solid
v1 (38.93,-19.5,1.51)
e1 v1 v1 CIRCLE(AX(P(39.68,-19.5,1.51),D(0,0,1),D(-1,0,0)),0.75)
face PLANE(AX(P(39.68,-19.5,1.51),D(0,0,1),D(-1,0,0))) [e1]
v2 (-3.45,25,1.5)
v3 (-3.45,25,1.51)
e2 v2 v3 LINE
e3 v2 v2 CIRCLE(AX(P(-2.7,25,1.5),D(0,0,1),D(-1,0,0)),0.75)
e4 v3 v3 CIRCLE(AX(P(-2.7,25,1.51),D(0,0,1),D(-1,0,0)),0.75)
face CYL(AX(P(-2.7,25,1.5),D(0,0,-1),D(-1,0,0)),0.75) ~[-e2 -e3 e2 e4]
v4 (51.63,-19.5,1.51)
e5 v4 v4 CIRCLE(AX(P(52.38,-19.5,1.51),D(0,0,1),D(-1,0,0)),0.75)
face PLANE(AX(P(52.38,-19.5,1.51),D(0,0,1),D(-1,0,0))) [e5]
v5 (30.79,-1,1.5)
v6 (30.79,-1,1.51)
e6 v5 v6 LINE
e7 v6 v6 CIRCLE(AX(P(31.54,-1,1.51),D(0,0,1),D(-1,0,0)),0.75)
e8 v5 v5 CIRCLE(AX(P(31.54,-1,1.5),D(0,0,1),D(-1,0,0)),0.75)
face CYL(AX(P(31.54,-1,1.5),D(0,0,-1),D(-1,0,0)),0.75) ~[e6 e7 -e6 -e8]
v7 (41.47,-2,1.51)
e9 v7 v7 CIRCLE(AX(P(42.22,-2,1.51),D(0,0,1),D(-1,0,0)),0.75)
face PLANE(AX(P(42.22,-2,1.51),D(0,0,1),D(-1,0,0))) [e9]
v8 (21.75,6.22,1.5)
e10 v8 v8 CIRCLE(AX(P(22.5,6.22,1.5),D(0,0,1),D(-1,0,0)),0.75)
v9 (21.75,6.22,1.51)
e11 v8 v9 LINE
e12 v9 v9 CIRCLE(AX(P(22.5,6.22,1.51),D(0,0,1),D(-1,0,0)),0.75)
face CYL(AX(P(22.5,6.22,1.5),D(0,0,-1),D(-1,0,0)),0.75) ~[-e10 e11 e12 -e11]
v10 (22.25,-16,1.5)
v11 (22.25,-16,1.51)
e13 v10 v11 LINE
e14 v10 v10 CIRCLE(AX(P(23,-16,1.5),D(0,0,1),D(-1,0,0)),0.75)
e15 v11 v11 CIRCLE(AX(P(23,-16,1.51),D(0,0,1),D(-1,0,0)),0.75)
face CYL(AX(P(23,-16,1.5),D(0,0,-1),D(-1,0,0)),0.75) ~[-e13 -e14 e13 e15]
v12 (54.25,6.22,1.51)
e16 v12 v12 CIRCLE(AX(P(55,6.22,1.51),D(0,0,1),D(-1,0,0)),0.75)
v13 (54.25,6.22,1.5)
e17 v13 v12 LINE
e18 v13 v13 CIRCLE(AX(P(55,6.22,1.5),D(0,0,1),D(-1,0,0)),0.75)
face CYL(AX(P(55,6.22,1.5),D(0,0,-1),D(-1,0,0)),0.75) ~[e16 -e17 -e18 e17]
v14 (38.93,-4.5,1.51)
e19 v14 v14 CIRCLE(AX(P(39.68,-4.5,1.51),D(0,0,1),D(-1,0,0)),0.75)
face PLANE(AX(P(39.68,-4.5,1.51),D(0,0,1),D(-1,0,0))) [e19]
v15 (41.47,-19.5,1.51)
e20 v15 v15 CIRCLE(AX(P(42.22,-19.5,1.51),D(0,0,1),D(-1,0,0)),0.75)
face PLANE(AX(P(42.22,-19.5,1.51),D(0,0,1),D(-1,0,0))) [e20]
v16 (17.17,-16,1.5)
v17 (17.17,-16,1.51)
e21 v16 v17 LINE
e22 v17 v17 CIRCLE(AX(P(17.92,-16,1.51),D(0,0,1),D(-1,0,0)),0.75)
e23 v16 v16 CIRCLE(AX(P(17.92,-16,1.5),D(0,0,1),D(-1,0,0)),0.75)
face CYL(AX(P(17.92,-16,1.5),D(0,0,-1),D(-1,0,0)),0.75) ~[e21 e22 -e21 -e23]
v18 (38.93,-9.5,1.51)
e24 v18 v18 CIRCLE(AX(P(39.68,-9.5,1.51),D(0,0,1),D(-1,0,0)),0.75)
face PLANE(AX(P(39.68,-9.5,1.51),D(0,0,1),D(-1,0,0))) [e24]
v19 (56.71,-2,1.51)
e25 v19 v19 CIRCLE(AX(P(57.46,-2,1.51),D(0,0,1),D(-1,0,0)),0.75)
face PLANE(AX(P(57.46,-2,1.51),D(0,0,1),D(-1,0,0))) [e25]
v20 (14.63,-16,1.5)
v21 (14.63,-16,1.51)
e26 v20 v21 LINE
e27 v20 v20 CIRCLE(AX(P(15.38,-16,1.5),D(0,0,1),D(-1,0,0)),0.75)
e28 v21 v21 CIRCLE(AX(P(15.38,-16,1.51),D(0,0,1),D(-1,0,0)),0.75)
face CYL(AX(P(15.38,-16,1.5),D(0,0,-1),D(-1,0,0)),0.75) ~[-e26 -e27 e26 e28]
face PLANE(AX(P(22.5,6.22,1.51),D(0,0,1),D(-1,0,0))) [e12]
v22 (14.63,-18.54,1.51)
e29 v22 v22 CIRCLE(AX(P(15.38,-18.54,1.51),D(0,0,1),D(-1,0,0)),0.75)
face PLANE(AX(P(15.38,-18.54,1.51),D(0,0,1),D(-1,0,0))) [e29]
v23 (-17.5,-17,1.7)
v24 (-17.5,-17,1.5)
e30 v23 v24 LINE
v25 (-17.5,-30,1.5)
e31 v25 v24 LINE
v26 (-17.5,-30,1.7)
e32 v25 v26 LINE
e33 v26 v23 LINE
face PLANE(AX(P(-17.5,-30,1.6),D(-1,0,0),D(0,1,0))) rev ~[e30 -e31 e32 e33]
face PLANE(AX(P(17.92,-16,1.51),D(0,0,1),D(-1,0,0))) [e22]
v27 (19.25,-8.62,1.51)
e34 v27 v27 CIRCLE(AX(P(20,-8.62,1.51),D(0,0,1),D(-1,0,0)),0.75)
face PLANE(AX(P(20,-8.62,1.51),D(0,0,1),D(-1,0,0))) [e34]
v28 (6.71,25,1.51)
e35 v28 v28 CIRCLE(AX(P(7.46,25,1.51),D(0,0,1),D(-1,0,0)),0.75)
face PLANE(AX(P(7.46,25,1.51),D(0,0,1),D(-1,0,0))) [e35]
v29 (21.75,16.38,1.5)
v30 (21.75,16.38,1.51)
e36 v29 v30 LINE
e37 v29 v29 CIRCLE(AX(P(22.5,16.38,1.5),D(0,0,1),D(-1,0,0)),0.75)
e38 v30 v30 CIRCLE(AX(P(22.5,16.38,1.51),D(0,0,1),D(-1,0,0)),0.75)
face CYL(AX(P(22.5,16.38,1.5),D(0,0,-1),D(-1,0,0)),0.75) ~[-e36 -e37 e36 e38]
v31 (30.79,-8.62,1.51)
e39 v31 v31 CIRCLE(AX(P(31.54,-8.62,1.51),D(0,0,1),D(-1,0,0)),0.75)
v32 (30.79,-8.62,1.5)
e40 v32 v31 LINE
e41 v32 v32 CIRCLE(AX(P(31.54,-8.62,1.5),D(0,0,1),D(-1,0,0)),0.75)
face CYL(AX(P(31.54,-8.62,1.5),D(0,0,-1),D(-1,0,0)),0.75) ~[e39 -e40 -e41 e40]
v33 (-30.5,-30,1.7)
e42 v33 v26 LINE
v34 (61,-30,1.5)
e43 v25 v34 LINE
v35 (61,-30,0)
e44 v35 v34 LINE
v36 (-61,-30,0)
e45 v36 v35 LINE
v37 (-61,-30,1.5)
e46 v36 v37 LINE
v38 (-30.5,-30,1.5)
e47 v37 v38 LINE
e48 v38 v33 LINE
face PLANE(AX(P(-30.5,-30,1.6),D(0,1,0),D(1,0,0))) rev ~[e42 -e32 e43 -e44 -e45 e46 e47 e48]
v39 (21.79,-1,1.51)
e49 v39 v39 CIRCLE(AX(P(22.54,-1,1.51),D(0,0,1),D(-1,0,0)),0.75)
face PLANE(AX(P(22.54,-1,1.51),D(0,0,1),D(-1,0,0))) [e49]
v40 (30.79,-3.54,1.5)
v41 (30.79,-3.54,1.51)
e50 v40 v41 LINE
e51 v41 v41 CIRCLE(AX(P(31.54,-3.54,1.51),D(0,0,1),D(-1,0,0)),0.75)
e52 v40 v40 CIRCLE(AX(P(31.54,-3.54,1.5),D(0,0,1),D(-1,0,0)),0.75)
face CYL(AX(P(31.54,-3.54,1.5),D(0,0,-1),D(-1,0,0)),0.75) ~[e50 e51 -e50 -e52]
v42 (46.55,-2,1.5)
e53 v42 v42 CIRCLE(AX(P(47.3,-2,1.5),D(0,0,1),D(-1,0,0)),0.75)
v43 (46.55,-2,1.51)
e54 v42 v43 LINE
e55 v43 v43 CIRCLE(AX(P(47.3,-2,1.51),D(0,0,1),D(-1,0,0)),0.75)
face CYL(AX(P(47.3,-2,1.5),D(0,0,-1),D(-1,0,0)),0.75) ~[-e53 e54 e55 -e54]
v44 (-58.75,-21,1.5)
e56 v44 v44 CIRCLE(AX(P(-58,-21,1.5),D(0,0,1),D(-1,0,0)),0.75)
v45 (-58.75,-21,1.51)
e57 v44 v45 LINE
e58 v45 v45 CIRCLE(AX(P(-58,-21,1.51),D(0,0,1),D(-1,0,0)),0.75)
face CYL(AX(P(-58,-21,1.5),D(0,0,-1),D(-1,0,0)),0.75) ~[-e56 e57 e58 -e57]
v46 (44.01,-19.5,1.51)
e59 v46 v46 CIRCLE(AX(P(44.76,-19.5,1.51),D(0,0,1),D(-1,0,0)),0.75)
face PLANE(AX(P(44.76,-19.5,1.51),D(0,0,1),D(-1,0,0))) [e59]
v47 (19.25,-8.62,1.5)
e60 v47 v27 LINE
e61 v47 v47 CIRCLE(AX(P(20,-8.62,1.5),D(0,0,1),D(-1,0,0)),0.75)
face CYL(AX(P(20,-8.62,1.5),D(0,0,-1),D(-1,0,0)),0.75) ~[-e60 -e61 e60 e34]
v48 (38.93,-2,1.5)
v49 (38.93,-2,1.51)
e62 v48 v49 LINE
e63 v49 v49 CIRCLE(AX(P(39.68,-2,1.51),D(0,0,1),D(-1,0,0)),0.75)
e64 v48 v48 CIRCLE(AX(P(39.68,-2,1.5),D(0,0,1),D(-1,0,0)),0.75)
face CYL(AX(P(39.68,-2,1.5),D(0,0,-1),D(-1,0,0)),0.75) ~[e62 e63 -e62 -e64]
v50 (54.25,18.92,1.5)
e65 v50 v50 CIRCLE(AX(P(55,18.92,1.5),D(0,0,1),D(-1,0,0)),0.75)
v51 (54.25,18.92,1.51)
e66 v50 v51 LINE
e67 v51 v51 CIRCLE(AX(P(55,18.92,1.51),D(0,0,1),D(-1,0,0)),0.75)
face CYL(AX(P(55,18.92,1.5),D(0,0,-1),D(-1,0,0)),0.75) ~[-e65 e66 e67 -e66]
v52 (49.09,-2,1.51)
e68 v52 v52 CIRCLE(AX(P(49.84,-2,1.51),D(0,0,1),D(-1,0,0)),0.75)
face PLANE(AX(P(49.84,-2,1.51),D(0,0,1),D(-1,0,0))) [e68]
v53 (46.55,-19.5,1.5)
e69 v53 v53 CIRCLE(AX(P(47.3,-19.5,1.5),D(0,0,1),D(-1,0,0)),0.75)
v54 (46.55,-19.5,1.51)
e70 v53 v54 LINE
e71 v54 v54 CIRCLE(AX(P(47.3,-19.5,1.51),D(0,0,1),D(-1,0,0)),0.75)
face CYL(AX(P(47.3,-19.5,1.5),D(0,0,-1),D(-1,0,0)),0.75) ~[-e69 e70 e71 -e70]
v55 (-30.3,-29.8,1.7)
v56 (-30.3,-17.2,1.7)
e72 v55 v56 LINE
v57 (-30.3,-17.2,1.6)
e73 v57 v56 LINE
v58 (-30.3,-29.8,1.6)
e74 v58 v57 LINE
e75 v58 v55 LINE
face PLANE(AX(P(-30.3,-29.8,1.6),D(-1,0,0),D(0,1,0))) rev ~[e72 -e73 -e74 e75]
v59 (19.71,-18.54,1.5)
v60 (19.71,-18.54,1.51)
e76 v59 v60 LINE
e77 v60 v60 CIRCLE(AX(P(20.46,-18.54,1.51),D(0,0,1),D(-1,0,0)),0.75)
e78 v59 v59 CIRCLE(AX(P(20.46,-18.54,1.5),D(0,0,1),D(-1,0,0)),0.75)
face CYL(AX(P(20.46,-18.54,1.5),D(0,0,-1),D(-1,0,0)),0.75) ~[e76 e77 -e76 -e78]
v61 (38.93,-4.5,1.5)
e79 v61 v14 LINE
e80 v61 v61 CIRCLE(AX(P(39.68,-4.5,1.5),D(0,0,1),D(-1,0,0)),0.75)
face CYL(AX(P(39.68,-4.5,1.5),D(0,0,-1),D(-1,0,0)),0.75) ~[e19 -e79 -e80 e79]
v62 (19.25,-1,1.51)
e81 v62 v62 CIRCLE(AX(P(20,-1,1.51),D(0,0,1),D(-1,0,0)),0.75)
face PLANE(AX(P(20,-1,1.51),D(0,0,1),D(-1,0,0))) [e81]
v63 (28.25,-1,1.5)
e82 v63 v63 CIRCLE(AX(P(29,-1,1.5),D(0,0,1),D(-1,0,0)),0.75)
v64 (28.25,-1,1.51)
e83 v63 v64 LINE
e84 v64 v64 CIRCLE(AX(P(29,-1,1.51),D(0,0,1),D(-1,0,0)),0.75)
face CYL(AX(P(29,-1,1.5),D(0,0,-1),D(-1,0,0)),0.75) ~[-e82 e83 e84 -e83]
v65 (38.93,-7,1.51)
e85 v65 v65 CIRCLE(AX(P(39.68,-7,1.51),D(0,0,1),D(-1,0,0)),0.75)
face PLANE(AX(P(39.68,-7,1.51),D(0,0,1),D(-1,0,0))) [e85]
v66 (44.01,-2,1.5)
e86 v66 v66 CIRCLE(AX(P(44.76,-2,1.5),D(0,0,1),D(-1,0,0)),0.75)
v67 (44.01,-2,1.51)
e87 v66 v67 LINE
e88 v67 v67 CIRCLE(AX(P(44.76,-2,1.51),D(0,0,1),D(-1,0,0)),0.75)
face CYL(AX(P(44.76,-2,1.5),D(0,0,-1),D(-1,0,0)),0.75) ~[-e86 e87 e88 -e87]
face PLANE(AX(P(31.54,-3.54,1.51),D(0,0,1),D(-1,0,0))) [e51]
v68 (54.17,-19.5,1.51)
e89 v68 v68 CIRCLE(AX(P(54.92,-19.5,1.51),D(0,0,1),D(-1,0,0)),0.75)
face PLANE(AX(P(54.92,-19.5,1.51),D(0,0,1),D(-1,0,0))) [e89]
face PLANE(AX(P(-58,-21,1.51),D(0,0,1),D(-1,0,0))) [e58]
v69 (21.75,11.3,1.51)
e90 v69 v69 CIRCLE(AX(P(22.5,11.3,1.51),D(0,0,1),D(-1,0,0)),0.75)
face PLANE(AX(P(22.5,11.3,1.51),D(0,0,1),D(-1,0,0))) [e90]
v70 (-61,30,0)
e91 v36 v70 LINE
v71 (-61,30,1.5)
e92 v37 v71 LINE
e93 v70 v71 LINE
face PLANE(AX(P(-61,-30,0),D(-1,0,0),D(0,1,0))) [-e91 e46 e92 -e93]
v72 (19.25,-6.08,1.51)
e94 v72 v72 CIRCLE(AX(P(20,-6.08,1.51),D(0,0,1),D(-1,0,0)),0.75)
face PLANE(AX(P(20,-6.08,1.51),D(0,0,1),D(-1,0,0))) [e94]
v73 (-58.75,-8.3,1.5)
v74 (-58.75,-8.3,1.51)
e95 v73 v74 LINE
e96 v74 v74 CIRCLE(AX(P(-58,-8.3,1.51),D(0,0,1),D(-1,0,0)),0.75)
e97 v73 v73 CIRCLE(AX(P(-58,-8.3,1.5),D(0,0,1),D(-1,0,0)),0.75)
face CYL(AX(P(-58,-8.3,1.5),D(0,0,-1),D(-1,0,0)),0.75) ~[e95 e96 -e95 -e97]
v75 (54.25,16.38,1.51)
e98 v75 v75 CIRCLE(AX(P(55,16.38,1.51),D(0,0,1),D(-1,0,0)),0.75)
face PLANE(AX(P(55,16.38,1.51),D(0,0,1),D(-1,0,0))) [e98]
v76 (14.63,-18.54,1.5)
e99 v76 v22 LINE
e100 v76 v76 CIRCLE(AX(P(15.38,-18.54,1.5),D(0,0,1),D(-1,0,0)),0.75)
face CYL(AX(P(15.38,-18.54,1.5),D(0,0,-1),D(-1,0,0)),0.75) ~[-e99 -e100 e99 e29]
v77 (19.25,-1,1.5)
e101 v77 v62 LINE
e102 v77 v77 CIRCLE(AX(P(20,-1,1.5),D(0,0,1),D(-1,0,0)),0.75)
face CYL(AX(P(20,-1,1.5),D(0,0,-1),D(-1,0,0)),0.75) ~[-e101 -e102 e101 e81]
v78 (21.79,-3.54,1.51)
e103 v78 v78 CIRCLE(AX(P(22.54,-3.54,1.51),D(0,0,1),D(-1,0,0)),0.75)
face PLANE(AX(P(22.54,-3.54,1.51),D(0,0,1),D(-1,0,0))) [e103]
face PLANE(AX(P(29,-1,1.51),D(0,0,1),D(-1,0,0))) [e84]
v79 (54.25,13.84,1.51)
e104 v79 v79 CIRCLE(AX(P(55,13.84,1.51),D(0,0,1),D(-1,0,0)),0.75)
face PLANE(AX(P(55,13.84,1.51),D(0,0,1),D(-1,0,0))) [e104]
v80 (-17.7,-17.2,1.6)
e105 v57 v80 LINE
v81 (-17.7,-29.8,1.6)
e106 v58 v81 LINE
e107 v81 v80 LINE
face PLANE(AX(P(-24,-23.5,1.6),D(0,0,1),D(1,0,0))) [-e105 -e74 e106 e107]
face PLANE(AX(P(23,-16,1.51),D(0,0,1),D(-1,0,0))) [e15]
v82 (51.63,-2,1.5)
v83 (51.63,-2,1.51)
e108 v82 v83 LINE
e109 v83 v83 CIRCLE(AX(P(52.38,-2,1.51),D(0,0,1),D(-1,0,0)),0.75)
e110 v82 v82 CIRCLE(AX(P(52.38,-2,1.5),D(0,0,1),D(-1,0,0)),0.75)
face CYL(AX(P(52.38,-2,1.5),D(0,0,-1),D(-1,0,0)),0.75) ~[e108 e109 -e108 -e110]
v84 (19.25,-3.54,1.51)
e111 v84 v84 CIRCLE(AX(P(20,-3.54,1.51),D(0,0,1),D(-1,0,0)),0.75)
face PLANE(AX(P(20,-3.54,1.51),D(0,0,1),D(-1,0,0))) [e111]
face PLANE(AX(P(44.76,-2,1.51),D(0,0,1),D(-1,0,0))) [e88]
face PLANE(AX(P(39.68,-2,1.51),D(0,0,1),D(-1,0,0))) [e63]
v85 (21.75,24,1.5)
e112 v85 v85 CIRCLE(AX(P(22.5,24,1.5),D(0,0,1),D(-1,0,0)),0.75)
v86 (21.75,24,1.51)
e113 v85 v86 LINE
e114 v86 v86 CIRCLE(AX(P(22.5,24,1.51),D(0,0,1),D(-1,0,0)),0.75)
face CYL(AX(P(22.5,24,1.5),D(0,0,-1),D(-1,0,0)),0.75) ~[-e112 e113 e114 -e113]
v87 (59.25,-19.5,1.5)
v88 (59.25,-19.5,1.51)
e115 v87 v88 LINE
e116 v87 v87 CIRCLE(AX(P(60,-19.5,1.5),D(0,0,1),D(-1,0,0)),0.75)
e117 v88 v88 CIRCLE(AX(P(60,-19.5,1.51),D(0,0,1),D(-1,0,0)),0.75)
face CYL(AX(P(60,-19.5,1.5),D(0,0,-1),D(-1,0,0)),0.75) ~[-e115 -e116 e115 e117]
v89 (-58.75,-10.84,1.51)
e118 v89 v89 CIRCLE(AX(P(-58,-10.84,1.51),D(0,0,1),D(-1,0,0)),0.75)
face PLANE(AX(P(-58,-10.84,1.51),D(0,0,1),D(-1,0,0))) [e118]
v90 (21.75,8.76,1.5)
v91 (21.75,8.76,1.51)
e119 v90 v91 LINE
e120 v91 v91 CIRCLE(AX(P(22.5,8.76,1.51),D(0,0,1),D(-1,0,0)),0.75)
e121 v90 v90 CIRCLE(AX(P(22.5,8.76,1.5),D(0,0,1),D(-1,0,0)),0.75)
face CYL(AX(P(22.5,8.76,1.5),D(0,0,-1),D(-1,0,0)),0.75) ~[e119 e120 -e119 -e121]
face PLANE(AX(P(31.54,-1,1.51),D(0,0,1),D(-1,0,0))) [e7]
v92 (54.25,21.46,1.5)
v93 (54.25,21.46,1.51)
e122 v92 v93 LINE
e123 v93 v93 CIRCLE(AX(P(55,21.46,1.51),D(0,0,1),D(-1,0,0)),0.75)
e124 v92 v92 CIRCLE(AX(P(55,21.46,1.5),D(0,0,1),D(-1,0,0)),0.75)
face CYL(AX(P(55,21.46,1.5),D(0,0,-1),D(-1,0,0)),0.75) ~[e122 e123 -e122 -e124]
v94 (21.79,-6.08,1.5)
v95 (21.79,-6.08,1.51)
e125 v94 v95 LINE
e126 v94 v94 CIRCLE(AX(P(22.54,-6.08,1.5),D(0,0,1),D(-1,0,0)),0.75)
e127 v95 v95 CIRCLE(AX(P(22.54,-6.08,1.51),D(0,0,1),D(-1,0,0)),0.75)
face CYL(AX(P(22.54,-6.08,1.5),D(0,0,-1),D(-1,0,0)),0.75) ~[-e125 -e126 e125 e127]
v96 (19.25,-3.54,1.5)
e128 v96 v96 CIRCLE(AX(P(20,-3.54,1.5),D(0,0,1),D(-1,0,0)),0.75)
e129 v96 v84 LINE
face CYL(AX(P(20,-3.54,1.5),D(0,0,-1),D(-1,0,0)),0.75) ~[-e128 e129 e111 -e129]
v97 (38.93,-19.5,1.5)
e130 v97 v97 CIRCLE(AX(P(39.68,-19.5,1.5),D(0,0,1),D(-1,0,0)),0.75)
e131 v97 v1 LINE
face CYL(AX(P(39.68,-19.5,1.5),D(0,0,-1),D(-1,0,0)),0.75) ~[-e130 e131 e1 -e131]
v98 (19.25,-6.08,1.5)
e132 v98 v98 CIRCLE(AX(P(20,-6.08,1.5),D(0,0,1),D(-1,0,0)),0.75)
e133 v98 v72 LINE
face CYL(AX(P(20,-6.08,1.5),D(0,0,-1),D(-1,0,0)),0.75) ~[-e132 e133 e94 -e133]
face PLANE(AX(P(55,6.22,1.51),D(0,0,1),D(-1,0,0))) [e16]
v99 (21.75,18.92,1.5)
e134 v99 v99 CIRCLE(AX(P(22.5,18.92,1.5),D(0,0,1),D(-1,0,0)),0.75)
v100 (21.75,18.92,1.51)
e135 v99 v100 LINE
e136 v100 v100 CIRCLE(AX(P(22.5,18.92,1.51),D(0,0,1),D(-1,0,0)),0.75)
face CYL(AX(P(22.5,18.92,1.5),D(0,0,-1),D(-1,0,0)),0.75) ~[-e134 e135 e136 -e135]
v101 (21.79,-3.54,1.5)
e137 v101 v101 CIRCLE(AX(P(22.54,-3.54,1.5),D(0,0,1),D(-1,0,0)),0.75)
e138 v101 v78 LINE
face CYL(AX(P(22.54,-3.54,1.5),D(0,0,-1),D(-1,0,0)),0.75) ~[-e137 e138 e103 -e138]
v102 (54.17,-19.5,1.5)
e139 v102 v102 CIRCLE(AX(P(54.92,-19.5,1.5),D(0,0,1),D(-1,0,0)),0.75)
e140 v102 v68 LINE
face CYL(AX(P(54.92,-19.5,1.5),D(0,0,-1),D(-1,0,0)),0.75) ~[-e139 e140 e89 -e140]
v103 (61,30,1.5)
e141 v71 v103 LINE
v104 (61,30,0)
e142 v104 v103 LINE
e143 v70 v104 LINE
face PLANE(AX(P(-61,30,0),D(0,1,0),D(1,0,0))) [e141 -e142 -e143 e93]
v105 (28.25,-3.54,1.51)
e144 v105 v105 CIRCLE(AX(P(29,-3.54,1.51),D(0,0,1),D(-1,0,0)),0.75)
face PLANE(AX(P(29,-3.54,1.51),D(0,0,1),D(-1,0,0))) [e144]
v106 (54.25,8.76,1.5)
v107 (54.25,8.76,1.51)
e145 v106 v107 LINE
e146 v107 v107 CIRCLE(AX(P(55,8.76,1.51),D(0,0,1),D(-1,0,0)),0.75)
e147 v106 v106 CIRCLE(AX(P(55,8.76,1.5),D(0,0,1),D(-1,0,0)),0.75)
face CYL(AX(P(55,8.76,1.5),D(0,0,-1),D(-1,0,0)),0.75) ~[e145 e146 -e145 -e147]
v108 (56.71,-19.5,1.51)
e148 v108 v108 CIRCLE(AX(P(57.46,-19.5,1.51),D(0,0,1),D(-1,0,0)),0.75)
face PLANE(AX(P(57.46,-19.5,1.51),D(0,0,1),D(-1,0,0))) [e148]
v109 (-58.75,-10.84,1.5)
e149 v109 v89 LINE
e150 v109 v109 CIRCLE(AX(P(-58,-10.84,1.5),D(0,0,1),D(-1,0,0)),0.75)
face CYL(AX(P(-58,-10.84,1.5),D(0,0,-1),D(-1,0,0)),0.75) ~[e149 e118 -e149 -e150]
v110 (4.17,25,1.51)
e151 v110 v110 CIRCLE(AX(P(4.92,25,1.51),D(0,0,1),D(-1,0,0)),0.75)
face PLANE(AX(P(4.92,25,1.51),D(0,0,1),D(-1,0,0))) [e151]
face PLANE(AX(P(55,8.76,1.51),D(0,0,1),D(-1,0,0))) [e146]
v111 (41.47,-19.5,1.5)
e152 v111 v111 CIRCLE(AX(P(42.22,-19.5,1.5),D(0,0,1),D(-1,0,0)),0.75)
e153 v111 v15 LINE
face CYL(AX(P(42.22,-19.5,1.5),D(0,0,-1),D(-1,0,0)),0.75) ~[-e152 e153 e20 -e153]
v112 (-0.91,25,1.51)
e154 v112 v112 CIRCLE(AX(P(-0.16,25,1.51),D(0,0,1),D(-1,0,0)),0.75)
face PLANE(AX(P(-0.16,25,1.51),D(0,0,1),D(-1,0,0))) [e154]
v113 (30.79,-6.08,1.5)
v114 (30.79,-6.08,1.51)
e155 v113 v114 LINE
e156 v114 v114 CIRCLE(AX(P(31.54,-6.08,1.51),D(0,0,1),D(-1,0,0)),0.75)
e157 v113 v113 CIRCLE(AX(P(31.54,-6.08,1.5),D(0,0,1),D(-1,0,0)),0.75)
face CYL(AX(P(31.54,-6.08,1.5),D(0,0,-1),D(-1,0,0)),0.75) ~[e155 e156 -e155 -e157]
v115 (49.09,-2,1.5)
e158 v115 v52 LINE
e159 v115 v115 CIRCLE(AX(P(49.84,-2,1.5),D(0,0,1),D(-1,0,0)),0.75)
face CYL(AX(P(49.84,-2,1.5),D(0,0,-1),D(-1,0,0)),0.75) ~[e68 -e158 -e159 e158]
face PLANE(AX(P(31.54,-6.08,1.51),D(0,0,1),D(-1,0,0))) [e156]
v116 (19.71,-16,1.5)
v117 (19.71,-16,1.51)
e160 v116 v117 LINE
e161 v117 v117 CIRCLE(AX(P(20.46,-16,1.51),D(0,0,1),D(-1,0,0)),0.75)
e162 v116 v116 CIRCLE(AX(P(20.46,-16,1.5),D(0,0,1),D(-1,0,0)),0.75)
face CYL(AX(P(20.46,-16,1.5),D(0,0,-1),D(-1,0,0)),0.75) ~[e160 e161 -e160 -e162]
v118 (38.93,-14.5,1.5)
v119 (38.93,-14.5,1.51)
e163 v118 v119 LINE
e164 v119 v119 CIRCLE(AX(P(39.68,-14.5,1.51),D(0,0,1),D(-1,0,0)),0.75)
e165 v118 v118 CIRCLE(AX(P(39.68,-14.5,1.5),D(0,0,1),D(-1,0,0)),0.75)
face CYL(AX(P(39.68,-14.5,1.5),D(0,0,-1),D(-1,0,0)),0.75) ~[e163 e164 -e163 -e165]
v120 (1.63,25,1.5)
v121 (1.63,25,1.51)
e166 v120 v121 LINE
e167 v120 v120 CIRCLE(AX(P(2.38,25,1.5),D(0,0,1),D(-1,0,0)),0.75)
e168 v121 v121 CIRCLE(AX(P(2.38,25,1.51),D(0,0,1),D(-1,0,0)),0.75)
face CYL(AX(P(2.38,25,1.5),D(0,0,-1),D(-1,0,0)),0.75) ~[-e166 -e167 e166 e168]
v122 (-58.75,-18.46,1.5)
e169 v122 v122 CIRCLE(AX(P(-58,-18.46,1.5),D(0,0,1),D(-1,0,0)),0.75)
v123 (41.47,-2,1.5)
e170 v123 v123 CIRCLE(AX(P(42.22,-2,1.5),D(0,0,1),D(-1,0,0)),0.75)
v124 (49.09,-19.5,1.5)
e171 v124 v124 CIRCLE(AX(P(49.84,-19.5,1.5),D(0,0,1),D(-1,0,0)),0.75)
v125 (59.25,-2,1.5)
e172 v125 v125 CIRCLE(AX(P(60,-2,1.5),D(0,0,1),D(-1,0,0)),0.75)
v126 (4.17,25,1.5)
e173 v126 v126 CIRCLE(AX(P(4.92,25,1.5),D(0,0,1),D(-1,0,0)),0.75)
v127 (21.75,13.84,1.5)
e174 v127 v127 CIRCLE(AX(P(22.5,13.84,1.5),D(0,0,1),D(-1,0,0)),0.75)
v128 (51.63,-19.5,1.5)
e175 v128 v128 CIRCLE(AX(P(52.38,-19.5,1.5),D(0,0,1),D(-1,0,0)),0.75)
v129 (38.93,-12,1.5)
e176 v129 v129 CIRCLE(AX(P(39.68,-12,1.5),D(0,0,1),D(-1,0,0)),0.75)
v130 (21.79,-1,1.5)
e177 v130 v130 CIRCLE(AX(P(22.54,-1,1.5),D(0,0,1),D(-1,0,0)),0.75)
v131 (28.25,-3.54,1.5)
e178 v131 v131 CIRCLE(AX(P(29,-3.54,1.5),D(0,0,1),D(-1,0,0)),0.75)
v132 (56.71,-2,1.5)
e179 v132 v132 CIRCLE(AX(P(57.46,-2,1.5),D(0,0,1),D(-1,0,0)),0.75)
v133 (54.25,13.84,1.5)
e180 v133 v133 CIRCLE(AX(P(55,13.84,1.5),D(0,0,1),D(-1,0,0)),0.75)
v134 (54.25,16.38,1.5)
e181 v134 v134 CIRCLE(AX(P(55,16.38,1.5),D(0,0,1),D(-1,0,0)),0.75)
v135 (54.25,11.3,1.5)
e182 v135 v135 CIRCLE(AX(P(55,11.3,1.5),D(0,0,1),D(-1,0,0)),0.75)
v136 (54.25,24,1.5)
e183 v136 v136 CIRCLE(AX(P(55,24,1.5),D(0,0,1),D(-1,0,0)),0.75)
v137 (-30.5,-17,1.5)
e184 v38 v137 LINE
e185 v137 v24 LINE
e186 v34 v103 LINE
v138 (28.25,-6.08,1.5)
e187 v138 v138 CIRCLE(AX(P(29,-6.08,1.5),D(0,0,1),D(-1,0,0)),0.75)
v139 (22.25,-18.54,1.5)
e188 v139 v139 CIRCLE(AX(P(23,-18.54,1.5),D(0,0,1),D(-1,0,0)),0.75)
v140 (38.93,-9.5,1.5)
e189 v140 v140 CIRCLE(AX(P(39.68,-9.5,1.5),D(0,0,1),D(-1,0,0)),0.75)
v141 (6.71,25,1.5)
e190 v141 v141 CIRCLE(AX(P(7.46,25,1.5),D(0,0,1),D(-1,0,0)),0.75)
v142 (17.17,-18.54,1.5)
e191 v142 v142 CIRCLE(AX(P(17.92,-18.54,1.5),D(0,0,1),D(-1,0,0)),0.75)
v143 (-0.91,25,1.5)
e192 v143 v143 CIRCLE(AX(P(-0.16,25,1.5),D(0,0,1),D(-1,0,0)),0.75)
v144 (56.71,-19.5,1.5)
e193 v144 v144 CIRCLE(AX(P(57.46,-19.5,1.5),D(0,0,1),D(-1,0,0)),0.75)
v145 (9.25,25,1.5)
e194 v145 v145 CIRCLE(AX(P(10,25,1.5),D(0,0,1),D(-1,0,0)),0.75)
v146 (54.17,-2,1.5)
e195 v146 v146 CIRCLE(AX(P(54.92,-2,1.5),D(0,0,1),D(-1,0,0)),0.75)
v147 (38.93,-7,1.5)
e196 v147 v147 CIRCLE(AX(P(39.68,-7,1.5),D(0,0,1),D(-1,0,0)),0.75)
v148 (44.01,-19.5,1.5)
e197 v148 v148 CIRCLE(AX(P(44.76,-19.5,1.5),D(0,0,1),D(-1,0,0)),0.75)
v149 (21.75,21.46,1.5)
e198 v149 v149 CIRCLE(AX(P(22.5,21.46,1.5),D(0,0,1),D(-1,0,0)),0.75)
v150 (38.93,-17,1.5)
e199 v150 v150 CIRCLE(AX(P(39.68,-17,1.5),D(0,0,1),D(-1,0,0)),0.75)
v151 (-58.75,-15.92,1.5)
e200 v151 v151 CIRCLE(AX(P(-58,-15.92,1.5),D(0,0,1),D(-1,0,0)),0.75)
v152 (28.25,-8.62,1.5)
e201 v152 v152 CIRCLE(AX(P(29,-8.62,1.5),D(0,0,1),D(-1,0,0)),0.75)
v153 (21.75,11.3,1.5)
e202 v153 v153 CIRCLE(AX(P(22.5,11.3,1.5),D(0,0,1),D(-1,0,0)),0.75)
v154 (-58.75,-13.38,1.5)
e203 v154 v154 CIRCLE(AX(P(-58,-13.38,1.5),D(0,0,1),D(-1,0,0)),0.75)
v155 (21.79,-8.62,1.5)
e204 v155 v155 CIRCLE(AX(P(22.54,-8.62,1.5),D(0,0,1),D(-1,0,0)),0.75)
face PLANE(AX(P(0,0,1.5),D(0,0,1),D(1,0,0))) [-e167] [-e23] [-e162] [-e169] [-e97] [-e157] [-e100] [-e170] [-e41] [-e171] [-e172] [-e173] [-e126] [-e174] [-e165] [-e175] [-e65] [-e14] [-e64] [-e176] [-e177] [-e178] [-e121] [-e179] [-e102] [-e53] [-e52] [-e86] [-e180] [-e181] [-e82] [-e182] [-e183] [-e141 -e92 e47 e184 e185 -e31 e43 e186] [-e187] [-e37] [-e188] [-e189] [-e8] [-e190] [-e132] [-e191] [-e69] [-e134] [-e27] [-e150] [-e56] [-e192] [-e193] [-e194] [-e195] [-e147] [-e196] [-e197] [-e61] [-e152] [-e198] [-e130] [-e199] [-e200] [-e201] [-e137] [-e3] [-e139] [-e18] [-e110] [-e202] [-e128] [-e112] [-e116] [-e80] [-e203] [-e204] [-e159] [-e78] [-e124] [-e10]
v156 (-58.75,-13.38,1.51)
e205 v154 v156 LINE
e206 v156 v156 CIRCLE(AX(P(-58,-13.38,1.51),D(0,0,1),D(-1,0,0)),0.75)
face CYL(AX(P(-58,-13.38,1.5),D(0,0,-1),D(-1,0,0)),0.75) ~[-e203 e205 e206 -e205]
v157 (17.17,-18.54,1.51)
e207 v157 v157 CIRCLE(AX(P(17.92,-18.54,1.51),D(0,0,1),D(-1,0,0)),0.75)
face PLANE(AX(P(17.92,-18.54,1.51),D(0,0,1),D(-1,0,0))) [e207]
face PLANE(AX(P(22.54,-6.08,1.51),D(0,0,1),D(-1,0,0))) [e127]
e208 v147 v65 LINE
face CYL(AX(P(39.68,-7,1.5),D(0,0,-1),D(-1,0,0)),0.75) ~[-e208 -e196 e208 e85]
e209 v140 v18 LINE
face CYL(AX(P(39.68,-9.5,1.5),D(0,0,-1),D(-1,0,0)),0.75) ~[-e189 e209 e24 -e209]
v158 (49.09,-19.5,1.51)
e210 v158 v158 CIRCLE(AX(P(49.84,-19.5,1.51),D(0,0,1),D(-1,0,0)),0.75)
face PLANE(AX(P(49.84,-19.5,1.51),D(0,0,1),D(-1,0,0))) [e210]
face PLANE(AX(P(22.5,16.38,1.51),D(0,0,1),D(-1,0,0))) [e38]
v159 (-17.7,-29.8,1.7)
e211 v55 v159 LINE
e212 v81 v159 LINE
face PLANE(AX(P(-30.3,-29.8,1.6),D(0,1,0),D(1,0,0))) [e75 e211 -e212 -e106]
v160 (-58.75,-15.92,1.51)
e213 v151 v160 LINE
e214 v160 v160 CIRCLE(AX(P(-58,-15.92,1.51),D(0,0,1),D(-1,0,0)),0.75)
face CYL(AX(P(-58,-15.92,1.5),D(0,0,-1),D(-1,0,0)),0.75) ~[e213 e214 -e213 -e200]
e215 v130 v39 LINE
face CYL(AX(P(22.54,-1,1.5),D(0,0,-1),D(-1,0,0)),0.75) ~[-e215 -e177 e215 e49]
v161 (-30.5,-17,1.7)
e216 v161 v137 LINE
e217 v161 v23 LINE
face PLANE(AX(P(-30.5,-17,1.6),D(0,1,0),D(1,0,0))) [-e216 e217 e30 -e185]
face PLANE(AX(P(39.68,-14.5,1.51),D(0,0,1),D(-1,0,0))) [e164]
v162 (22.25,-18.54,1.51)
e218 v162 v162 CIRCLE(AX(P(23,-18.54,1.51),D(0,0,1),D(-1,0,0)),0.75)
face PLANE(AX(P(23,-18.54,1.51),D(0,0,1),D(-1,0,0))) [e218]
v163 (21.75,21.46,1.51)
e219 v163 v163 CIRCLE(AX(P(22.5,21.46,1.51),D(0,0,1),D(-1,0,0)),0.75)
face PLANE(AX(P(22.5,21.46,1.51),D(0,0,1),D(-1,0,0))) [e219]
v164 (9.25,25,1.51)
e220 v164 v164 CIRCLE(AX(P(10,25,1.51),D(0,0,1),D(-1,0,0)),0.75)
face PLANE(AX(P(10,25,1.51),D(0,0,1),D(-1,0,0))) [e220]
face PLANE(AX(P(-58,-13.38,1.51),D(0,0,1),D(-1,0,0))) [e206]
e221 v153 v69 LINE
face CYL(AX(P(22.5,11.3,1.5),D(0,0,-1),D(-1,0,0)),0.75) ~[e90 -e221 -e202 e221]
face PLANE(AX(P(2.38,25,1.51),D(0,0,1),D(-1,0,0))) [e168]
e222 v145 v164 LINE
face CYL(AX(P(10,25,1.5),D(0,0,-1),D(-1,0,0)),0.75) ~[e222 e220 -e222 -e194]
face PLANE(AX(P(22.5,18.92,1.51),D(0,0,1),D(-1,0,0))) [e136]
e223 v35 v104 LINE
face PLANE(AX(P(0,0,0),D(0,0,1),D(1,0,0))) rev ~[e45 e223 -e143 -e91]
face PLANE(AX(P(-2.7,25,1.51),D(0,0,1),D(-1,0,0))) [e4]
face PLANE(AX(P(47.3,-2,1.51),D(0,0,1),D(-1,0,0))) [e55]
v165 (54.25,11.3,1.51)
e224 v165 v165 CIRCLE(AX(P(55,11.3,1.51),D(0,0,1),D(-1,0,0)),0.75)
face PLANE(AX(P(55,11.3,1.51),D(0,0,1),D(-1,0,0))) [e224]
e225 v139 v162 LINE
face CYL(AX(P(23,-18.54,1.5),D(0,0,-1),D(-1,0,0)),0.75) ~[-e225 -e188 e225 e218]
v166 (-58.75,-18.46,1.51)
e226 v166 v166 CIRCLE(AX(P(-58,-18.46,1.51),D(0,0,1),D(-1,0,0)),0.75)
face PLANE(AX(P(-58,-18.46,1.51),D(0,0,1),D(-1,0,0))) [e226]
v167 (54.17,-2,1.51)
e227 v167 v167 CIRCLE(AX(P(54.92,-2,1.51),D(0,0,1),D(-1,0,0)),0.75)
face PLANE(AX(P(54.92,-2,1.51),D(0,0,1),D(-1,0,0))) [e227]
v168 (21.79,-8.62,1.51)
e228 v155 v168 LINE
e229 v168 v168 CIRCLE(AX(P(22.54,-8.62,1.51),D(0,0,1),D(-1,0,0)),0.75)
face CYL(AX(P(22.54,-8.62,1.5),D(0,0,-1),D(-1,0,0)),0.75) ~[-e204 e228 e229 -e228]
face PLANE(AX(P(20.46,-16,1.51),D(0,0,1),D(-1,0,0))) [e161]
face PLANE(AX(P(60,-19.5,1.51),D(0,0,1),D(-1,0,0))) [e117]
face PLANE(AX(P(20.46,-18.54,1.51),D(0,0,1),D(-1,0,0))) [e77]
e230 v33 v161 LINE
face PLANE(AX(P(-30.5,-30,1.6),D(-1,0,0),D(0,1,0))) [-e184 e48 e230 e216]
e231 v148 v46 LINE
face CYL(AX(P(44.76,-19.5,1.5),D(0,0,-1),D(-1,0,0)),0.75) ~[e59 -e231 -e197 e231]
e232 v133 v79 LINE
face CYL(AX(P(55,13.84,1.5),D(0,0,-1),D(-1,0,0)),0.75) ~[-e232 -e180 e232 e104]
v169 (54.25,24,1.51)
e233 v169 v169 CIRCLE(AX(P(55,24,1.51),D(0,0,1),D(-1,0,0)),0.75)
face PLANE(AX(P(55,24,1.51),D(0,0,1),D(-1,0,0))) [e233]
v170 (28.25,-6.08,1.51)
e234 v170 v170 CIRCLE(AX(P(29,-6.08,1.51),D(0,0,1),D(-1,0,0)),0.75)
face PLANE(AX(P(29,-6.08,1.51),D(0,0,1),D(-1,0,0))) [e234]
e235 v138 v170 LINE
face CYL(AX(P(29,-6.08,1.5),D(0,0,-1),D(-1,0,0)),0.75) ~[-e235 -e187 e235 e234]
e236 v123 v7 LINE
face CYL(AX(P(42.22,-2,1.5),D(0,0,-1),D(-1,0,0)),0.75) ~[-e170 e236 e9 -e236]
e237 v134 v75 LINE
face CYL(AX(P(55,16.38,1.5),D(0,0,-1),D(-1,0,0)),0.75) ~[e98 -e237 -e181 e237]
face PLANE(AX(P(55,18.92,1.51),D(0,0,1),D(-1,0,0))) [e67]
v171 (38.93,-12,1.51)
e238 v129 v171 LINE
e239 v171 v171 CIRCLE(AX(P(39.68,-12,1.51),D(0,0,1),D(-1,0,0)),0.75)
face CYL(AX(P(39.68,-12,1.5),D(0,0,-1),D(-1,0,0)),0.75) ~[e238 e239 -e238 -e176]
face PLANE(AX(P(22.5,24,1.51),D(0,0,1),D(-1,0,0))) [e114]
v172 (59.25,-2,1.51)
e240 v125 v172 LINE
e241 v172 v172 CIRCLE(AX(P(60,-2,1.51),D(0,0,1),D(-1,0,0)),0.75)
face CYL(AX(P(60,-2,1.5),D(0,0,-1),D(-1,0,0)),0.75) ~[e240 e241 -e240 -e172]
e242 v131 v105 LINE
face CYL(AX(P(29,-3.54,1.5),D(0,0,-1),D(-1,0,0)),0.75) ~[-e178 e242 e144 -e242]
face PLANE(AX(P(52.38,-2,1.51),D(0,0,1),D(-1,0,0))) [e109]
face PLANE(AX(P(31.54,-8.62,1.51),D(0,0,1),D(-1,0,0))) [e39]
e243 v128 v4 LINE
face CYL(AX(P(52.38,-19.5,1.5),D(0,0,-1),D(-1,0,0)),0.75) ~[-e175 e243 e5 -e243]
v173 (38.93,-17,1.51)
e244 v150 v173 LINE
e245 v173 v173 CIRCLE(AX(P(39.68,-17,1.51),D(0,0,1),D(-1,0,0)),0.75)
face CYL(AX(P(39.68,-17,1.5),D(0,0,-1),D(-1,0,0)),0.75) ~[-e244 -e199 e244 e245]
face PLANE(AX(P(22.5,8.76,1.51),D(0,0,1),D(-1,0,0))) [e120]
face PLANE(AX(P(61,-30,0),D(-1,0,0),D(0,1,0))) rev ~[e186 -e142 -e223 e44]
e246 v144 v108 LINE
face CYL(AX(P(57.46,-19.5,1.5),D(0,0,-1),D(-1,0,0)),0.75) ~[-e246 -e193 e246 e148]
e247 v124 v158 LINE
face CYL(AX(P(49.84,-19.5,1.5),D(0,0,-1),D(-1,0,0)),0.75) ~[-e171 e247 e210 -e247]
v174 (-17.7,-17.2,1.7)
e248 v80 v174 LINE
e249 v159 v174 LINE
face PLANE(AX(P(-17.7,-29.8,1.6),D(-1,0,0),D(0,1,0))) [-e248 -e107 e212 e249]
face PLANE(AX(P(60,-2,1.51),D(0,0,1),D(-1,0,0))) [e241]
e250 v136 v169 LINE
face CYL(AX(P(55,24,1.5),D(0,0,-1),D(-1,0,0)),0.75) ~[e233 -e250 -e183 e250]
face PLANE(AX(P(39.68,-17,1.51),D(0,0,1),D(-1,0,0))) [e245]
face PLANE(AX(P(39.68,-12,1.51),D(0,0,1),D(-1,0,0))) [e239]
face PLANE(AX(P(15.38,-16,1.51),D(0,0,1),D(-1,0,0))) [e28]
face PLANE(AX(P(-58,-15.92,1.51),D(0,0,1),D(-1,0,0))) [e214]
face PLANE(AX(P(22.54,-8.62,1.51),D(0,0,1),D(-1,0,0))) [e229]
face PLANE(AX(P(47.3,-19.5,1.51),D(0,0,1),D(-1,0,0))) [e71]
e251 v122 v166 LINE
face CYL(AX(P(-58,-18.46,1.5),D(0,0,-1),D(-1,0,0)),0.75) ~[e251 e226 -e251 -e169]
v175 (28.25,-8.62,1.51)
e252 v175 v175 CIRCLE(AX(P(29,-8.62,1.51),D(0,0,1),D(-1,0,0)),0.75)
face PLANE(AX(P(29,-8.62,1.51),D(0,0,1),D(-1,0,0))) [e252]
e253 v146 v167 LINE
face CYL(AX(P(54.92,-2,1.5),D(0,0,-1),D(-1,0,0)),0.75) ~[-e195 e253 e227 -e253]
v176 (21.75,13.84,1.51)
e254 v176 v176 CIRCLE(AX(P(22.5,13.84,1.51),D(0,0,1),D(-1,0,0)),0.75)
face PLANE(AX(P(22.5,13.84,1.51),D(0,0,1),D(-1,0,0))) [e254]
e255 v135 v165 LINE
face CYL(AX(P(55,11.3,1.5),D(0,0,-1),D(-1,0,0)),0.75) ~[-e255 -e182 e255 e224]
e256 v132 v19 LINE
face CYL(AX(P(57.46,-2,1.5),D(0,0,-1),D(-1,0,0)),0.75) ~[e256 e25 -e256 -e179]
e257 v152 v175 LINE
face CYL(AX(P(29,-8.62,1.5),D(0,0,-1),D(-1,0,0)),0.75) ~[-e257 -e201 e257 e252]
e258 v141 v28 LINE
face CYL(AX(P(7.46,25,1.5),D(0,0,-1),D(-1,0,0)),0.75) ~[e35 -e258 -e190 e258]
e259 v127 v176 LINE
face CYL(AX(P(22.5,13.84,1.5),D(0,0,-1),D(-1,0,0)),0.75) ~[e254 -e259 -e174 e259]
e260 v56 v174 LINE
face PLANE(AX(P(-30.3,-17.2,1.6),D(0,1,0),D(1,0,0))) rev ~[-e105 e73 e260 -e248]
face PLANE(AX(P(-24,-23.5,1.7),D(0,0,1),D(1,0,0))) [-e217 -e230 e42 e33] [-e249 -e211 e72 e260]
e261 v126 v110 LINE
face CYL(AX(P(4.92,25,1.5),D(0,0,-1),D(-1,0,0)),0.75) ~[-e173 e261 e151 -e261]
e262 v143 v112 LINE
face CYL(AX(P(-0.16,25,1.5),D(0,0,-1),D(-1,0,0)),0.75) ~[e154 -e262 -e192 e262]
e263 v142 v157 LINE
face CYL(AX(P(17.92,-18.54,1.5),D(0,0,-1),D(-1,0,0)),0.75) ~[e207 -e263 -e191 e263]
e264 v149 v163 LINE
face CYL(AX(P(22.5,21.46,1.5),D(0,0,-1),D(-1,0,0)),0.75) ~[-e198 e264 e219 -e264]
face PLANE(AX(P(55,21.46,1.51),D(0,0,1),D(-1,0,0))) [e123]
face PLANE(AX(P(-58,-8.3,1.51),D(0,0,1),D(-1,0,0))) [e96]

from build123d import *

# Parameters (mm, degrees)
SKETCH1_W           = 122
SKETCH1_H           = 60
BOSS_EXTRUDE1_DEPTH = 1.5
SKETCH2_R           = 0.75
BOSS_EXTRUDE2_DEPTH = 0.01
SKETCH3_W           = 13
SKETCH3_H           = 13
BOSS_EXTRUDE3_DEPTH = 0.1
SKETCH4_W           = 13
SKETCH4_H           = 13
SKETCH4_W_2         = 12.6
SKETCH4_H_2         = 12.6
BOSS_EXTRUDE4_DEPTH = 0.1


with BuildPart() as part:
    # Sketch1 → Boss-Extrude1 (new body)
    with BuildSketch(Plane.XY):
        Rectangle(SKETCH1_W, SKETCH1_H)
    extrude(amount=BOSS_EXTRUDE1_DEPTH)

    # Sketch2 → Boss-Extrude2 (add)
    with BuildSketch(Plane.XY.offset(1.5)):
        with Locations(Location((60, -2, 0), (0, 0, 180))):
            Circle(SKETCH2_R)
        with Locations(Location((57.46, -2, 0), (0, 0, 180))):
            Circle(SKETCH2_R)
        with Locations(Location((54.92, -2, 0), (0, 0, 180))):
            Circle(SKETCH2_R)
        with Locations(Location((52.38, -2, 0), (0, 0, 180))):
            Circle(SKETCH2_R)
        with Locations(Location((49.84, -2, 0), (0, 0, 180))):
            Circle(SKETCH2_R)
        with Locations(Location((47.3, -2, 0), (0, 0, 180))):
            Circle(SKETCH2_R)
        with Locations(Location((44.76, -2, 0), (0, 0, 180))):
            Circle(SKETCH2_R)
        with Locations(Location((42.22, -2, 0), (0, 0, 180))):
            Circle(SKETCH2_R)
        with Locations(Location((57.46, -19.5, 0), (0, 0, 180))):
            Circle(SKETCH2_R)
        with Locations(Location((54.92, -19.5, 0), (0, 0, 180))):
            Circle(SKETCH2_R)
        with Locations(Location((52.38, -19.5, 0), (0, 0, 180))):
            Circle(SKETCH2_R)
        with Locations(Location((49.84, -19.5, 0), (0, 0, 180))):
            Circle(SKETCH2_R)
        with Locations(Location((47.3, -19.5, 0), (0, 0, 180))):
            Circle(SKETCH2_R)
        with Locations(Location((44.76, -19.5, 0), (0, 0, 180))):
            Circle(SKETCH2_R)
        with Locations(Location((42.22, -19.5, 0), (0, 0, 180))):
            Circle(SKETCH2_R)
        with Locations(Location((60, -19.5, 0), (0, 0, 180))):
            Circle(SKETCH2_R)
        with Locations(Location((39.68, -2, 0), (0, 0, 180))):
            Circle(SKETCH2_R)
        with Locations(Location((39.68, -4.5, 0), (0, 0, 180))):
            Circle(SKETCH2_R)
        with Locations(Location((39.68, -7, 0), (0, 0, 180))):
            Circle(SKETCH2_R)
        with Locations(Location((39.68, -9.5, 0), (0, 0, 180))):
            Circle(SKETCH2_R)
        with Locations(Location((39.68, -12, 0), (0, 0, 180))):
            Circle(SKETCH2_R)
        with Locations(Location((39.68, -14.5, 0), (0, 0, 180))):
            Circle(SKETCH2_R)
        with Locations(Location((39.68, -17, 0), (0, 0, 180))):
            Circle(SKETCH2_R)
        with Locations(Location((39.68, -19.5, 0), (0, 0, 180))):
            Circle(SKETCH2_R)
        with Locations(Location((55, 24, 0), (0, 0, 180))):
            Circle(SKETCH2_R)
        with Locations(Location((22.5, 24, 0), (0, 0, 180))):
            Circle(SKETCH2_R)
        with Locations(Location((22.5, 21.46, 0), (0, 0, 180))):
            Circle(SKETCH2_R)
        with Locations(Location((22.5, 18.92, 0), (0, 0, 180))):
            Circle(SKETCH2_R)
        with Locations(Location((22.5, 16.38, 0), (0, 0, 180))):
            Circle(SKETCH2_R)
        with Locations(Location((22.5, 13.84, 0), (0, 0, 180))):
            Circle(SKETCH2_R)
        with Locations(Location((22.5, 11.3, 0), (0, 0, 180))):
            Circle(SKETCH2_R)
        with Locations(Location((22.5, 8.76, 0), (0, 0, 180))):
            Circle(SKETCH2_R)
        with Locations(Location((22.5, 6.22, 0), (0, 0, 180))):
            Circle(SKETCH2_R)
        with Locations(Location((55, 21.46, 0), (0, 0, 180))):
            Circle(SKETCH2_R)
        with Locations(Location((55, 18.92, 0), (0, 0, 180))):
            Circle(SKETCH2_R)
        with Locations(Location((55, 16.38, 0), (0, 0, 180))):
            Circle(SKETCH2_R)
        with Locations(Location((55, 13.84, 0), (0, 0, 180))):
            Circle(SKETCH2_R)
        with Locations(Location((55, 11.3, 0), (0, 0, 180))):
            Circle(SKETCH2_R)
        with Locations(Location((55, 8.76, 0), (0, 0, 180))):
            Circle(SKETCH2_R)
        with Locations(Location((55, 6.22, 0), (0, 0, 180))):
            Circle(SKETCH2_R)
        with Locations(Location((10, 25, 0), (0, 0, 180))):
            Circle(SKETCH2_R)
        with Locations(Location((7.46, 25, 0), (0, 0, 180))):
            Circle(SKETCH2_R)
        with Locations(Location((4.92, 25, 0), (0, 0, 180))):
            Circle(SKETCH2_R)
        with Locations(Location((2.38, 25, 0), (0, 0, 180))):
            Circle(SKETCH2_R)
        with Locations(Location((-0.16, 25, 0), (0, 0, 180))):
            Circle(SKETCH2_R)
        with Locations(Location((-2.7, 25, 0), (0, 0, 180))):
            Circle(SKETCH2_R)
        with Locations(Location((-58, -21, 0), (0, 0, 180))):
            Circle(SKETCH2_R)
        with Locations(Location((-58, -18.46, 0), (0, 0, 180))):
            Circle(SKETCH2_R)
        with Locations(Location((-58, -15.92, 0), (0, 0, 180))):
            Circle(SKETCH2_R)
        with Locations(Location((-58, -13.38, 0), (0, 0, 180))):
            Circle(SKETCH2_R)
        with Locations(Location((-58, -10.84, 0), (0, 0, 180))):
            Circle(SKETCH2_R)
        with Locations(Location((-58, -8.3, 0), (0, 0, 180))):
            Circle(SKETCH2_R)
        with Locations(Location((20, -1, 0), (0, 0, 180))):
            Circle(SKETCH2_R)
        with Locations(Location((22.54, -1, 0), (0, 0, 180))):
            Circle(SKETCH2_R)
        with Locations(Location((22.54, -3.54, 0), (0, 0, 180))):
            Circle(SKETCH2_R)
        with Locations(Location((22.54, -6.08, 0), (0, 0, 180))):
            Circle(SKETCH2_R)
        with Locations(Location((22.54, -8.62, 0), (0, 0, 180))):
            Circle(SKETCH2_R)
        with Locations(Location((20, -3.54, 0), (0, 0, 180))):
            Circle(SKETCH2_R)
        with Locations(Location((20, -6.08, 0), (0, 0, 180))):
            Circle(SKETCH2_R)
        with Locations(Location((20, -8.62, 0), (0, 0, 180))):
            Circle(SKETCH2_R)
        with Locations(Location((29, -1, 0), (0, 0, 180))):
            Circle(SKETCH2_R)
        with Locations(Location((31.54, -1, 0), (0, 0, 180))):
            Circle(SKETCH2_R)
        with Locations(Location((31.54, -3.54, 0), (0, 0, 180))):
            Circle(SKETCH2_R)
        with Locations(Location((29, -3.54, 0), (0, 0, 180))):
            Circle(SKETCH2_R)
        with Locations(Location((29, -6.08, 0), (0, 0, 180))):
            Circle(SKETCH2_R)
        with Locations(Location((29, -8.62, 0), (0, 0, 180))):
            Circle(SKETCH2_R)
        with Locations(Location((31.54, -8.62, 0), (0, 0, 180))):
            Circle(SKETCH2_R)
        with Locations(Location((31.54, -6.08, 0), (0, 0, 180))):
            Circle(SKETCH2_R)
        with Locations(Location((23, -16, 0), (0, 0, 180))):
            Circle(SKETCH2_R)
        with Locations(Location((20.46, -16, 0), (0, 0, 180))):
            Circle(SKETCH2_R)
        with Locations(Location((17.92, -16, 0), (0, 0, 180))):
            Circle(SKETCH2_R)
        with Locations(Location((15.38, -16, 0), (0, 0, 180))):
            Circle(SKETCH2_R)
        with Locations(Location((20.46, -18.54, 0), (0, 0, 180))):
            Circle(SKETCH2_R)
        with Locations(Location((17.92, -18.54, 0), (0, 0, 180))):
            Circle(SKETCH2_R)
        with Locations(Location((15.38, -18.54, 0), (0, 0, 180))):
            Circle(SKETCH2_R)
        with Locations(Location((23, -18.54, 0), (0, 0, 180))):
            Circle(SKETCH2_R)
    extrude(amount=BOSS_EXTRUDE2_DEPTH)

    # Sketch3 → Boss-Extrude3 (add)
    with BuildSketch(Plane.XY.offset(1.5)):
        with Locations((-24, -23.5)):
            Rectangle(SKETCH3_W, SKETCH3_H)
    extrude(amount=BOSS_EXTRUDE3_DEPTH)

    # Sketch4 → Boss-Extrude4 (add)
    with BuildSketch(Plane.XY.offset(1.6)):
        with Locations((-24, -23.5)):
            Rectangle(SKETCH4_W, SKETCH4_H)
        with Locations((-24, -23.5)):
            Rectangle(SKETCH4_W_2, SKETCH4_H_2, mode=Mode.SUBTRACT)
    extrude(amount=BOSS_EXTRUDE4_DEPTH)


solid = part.part
